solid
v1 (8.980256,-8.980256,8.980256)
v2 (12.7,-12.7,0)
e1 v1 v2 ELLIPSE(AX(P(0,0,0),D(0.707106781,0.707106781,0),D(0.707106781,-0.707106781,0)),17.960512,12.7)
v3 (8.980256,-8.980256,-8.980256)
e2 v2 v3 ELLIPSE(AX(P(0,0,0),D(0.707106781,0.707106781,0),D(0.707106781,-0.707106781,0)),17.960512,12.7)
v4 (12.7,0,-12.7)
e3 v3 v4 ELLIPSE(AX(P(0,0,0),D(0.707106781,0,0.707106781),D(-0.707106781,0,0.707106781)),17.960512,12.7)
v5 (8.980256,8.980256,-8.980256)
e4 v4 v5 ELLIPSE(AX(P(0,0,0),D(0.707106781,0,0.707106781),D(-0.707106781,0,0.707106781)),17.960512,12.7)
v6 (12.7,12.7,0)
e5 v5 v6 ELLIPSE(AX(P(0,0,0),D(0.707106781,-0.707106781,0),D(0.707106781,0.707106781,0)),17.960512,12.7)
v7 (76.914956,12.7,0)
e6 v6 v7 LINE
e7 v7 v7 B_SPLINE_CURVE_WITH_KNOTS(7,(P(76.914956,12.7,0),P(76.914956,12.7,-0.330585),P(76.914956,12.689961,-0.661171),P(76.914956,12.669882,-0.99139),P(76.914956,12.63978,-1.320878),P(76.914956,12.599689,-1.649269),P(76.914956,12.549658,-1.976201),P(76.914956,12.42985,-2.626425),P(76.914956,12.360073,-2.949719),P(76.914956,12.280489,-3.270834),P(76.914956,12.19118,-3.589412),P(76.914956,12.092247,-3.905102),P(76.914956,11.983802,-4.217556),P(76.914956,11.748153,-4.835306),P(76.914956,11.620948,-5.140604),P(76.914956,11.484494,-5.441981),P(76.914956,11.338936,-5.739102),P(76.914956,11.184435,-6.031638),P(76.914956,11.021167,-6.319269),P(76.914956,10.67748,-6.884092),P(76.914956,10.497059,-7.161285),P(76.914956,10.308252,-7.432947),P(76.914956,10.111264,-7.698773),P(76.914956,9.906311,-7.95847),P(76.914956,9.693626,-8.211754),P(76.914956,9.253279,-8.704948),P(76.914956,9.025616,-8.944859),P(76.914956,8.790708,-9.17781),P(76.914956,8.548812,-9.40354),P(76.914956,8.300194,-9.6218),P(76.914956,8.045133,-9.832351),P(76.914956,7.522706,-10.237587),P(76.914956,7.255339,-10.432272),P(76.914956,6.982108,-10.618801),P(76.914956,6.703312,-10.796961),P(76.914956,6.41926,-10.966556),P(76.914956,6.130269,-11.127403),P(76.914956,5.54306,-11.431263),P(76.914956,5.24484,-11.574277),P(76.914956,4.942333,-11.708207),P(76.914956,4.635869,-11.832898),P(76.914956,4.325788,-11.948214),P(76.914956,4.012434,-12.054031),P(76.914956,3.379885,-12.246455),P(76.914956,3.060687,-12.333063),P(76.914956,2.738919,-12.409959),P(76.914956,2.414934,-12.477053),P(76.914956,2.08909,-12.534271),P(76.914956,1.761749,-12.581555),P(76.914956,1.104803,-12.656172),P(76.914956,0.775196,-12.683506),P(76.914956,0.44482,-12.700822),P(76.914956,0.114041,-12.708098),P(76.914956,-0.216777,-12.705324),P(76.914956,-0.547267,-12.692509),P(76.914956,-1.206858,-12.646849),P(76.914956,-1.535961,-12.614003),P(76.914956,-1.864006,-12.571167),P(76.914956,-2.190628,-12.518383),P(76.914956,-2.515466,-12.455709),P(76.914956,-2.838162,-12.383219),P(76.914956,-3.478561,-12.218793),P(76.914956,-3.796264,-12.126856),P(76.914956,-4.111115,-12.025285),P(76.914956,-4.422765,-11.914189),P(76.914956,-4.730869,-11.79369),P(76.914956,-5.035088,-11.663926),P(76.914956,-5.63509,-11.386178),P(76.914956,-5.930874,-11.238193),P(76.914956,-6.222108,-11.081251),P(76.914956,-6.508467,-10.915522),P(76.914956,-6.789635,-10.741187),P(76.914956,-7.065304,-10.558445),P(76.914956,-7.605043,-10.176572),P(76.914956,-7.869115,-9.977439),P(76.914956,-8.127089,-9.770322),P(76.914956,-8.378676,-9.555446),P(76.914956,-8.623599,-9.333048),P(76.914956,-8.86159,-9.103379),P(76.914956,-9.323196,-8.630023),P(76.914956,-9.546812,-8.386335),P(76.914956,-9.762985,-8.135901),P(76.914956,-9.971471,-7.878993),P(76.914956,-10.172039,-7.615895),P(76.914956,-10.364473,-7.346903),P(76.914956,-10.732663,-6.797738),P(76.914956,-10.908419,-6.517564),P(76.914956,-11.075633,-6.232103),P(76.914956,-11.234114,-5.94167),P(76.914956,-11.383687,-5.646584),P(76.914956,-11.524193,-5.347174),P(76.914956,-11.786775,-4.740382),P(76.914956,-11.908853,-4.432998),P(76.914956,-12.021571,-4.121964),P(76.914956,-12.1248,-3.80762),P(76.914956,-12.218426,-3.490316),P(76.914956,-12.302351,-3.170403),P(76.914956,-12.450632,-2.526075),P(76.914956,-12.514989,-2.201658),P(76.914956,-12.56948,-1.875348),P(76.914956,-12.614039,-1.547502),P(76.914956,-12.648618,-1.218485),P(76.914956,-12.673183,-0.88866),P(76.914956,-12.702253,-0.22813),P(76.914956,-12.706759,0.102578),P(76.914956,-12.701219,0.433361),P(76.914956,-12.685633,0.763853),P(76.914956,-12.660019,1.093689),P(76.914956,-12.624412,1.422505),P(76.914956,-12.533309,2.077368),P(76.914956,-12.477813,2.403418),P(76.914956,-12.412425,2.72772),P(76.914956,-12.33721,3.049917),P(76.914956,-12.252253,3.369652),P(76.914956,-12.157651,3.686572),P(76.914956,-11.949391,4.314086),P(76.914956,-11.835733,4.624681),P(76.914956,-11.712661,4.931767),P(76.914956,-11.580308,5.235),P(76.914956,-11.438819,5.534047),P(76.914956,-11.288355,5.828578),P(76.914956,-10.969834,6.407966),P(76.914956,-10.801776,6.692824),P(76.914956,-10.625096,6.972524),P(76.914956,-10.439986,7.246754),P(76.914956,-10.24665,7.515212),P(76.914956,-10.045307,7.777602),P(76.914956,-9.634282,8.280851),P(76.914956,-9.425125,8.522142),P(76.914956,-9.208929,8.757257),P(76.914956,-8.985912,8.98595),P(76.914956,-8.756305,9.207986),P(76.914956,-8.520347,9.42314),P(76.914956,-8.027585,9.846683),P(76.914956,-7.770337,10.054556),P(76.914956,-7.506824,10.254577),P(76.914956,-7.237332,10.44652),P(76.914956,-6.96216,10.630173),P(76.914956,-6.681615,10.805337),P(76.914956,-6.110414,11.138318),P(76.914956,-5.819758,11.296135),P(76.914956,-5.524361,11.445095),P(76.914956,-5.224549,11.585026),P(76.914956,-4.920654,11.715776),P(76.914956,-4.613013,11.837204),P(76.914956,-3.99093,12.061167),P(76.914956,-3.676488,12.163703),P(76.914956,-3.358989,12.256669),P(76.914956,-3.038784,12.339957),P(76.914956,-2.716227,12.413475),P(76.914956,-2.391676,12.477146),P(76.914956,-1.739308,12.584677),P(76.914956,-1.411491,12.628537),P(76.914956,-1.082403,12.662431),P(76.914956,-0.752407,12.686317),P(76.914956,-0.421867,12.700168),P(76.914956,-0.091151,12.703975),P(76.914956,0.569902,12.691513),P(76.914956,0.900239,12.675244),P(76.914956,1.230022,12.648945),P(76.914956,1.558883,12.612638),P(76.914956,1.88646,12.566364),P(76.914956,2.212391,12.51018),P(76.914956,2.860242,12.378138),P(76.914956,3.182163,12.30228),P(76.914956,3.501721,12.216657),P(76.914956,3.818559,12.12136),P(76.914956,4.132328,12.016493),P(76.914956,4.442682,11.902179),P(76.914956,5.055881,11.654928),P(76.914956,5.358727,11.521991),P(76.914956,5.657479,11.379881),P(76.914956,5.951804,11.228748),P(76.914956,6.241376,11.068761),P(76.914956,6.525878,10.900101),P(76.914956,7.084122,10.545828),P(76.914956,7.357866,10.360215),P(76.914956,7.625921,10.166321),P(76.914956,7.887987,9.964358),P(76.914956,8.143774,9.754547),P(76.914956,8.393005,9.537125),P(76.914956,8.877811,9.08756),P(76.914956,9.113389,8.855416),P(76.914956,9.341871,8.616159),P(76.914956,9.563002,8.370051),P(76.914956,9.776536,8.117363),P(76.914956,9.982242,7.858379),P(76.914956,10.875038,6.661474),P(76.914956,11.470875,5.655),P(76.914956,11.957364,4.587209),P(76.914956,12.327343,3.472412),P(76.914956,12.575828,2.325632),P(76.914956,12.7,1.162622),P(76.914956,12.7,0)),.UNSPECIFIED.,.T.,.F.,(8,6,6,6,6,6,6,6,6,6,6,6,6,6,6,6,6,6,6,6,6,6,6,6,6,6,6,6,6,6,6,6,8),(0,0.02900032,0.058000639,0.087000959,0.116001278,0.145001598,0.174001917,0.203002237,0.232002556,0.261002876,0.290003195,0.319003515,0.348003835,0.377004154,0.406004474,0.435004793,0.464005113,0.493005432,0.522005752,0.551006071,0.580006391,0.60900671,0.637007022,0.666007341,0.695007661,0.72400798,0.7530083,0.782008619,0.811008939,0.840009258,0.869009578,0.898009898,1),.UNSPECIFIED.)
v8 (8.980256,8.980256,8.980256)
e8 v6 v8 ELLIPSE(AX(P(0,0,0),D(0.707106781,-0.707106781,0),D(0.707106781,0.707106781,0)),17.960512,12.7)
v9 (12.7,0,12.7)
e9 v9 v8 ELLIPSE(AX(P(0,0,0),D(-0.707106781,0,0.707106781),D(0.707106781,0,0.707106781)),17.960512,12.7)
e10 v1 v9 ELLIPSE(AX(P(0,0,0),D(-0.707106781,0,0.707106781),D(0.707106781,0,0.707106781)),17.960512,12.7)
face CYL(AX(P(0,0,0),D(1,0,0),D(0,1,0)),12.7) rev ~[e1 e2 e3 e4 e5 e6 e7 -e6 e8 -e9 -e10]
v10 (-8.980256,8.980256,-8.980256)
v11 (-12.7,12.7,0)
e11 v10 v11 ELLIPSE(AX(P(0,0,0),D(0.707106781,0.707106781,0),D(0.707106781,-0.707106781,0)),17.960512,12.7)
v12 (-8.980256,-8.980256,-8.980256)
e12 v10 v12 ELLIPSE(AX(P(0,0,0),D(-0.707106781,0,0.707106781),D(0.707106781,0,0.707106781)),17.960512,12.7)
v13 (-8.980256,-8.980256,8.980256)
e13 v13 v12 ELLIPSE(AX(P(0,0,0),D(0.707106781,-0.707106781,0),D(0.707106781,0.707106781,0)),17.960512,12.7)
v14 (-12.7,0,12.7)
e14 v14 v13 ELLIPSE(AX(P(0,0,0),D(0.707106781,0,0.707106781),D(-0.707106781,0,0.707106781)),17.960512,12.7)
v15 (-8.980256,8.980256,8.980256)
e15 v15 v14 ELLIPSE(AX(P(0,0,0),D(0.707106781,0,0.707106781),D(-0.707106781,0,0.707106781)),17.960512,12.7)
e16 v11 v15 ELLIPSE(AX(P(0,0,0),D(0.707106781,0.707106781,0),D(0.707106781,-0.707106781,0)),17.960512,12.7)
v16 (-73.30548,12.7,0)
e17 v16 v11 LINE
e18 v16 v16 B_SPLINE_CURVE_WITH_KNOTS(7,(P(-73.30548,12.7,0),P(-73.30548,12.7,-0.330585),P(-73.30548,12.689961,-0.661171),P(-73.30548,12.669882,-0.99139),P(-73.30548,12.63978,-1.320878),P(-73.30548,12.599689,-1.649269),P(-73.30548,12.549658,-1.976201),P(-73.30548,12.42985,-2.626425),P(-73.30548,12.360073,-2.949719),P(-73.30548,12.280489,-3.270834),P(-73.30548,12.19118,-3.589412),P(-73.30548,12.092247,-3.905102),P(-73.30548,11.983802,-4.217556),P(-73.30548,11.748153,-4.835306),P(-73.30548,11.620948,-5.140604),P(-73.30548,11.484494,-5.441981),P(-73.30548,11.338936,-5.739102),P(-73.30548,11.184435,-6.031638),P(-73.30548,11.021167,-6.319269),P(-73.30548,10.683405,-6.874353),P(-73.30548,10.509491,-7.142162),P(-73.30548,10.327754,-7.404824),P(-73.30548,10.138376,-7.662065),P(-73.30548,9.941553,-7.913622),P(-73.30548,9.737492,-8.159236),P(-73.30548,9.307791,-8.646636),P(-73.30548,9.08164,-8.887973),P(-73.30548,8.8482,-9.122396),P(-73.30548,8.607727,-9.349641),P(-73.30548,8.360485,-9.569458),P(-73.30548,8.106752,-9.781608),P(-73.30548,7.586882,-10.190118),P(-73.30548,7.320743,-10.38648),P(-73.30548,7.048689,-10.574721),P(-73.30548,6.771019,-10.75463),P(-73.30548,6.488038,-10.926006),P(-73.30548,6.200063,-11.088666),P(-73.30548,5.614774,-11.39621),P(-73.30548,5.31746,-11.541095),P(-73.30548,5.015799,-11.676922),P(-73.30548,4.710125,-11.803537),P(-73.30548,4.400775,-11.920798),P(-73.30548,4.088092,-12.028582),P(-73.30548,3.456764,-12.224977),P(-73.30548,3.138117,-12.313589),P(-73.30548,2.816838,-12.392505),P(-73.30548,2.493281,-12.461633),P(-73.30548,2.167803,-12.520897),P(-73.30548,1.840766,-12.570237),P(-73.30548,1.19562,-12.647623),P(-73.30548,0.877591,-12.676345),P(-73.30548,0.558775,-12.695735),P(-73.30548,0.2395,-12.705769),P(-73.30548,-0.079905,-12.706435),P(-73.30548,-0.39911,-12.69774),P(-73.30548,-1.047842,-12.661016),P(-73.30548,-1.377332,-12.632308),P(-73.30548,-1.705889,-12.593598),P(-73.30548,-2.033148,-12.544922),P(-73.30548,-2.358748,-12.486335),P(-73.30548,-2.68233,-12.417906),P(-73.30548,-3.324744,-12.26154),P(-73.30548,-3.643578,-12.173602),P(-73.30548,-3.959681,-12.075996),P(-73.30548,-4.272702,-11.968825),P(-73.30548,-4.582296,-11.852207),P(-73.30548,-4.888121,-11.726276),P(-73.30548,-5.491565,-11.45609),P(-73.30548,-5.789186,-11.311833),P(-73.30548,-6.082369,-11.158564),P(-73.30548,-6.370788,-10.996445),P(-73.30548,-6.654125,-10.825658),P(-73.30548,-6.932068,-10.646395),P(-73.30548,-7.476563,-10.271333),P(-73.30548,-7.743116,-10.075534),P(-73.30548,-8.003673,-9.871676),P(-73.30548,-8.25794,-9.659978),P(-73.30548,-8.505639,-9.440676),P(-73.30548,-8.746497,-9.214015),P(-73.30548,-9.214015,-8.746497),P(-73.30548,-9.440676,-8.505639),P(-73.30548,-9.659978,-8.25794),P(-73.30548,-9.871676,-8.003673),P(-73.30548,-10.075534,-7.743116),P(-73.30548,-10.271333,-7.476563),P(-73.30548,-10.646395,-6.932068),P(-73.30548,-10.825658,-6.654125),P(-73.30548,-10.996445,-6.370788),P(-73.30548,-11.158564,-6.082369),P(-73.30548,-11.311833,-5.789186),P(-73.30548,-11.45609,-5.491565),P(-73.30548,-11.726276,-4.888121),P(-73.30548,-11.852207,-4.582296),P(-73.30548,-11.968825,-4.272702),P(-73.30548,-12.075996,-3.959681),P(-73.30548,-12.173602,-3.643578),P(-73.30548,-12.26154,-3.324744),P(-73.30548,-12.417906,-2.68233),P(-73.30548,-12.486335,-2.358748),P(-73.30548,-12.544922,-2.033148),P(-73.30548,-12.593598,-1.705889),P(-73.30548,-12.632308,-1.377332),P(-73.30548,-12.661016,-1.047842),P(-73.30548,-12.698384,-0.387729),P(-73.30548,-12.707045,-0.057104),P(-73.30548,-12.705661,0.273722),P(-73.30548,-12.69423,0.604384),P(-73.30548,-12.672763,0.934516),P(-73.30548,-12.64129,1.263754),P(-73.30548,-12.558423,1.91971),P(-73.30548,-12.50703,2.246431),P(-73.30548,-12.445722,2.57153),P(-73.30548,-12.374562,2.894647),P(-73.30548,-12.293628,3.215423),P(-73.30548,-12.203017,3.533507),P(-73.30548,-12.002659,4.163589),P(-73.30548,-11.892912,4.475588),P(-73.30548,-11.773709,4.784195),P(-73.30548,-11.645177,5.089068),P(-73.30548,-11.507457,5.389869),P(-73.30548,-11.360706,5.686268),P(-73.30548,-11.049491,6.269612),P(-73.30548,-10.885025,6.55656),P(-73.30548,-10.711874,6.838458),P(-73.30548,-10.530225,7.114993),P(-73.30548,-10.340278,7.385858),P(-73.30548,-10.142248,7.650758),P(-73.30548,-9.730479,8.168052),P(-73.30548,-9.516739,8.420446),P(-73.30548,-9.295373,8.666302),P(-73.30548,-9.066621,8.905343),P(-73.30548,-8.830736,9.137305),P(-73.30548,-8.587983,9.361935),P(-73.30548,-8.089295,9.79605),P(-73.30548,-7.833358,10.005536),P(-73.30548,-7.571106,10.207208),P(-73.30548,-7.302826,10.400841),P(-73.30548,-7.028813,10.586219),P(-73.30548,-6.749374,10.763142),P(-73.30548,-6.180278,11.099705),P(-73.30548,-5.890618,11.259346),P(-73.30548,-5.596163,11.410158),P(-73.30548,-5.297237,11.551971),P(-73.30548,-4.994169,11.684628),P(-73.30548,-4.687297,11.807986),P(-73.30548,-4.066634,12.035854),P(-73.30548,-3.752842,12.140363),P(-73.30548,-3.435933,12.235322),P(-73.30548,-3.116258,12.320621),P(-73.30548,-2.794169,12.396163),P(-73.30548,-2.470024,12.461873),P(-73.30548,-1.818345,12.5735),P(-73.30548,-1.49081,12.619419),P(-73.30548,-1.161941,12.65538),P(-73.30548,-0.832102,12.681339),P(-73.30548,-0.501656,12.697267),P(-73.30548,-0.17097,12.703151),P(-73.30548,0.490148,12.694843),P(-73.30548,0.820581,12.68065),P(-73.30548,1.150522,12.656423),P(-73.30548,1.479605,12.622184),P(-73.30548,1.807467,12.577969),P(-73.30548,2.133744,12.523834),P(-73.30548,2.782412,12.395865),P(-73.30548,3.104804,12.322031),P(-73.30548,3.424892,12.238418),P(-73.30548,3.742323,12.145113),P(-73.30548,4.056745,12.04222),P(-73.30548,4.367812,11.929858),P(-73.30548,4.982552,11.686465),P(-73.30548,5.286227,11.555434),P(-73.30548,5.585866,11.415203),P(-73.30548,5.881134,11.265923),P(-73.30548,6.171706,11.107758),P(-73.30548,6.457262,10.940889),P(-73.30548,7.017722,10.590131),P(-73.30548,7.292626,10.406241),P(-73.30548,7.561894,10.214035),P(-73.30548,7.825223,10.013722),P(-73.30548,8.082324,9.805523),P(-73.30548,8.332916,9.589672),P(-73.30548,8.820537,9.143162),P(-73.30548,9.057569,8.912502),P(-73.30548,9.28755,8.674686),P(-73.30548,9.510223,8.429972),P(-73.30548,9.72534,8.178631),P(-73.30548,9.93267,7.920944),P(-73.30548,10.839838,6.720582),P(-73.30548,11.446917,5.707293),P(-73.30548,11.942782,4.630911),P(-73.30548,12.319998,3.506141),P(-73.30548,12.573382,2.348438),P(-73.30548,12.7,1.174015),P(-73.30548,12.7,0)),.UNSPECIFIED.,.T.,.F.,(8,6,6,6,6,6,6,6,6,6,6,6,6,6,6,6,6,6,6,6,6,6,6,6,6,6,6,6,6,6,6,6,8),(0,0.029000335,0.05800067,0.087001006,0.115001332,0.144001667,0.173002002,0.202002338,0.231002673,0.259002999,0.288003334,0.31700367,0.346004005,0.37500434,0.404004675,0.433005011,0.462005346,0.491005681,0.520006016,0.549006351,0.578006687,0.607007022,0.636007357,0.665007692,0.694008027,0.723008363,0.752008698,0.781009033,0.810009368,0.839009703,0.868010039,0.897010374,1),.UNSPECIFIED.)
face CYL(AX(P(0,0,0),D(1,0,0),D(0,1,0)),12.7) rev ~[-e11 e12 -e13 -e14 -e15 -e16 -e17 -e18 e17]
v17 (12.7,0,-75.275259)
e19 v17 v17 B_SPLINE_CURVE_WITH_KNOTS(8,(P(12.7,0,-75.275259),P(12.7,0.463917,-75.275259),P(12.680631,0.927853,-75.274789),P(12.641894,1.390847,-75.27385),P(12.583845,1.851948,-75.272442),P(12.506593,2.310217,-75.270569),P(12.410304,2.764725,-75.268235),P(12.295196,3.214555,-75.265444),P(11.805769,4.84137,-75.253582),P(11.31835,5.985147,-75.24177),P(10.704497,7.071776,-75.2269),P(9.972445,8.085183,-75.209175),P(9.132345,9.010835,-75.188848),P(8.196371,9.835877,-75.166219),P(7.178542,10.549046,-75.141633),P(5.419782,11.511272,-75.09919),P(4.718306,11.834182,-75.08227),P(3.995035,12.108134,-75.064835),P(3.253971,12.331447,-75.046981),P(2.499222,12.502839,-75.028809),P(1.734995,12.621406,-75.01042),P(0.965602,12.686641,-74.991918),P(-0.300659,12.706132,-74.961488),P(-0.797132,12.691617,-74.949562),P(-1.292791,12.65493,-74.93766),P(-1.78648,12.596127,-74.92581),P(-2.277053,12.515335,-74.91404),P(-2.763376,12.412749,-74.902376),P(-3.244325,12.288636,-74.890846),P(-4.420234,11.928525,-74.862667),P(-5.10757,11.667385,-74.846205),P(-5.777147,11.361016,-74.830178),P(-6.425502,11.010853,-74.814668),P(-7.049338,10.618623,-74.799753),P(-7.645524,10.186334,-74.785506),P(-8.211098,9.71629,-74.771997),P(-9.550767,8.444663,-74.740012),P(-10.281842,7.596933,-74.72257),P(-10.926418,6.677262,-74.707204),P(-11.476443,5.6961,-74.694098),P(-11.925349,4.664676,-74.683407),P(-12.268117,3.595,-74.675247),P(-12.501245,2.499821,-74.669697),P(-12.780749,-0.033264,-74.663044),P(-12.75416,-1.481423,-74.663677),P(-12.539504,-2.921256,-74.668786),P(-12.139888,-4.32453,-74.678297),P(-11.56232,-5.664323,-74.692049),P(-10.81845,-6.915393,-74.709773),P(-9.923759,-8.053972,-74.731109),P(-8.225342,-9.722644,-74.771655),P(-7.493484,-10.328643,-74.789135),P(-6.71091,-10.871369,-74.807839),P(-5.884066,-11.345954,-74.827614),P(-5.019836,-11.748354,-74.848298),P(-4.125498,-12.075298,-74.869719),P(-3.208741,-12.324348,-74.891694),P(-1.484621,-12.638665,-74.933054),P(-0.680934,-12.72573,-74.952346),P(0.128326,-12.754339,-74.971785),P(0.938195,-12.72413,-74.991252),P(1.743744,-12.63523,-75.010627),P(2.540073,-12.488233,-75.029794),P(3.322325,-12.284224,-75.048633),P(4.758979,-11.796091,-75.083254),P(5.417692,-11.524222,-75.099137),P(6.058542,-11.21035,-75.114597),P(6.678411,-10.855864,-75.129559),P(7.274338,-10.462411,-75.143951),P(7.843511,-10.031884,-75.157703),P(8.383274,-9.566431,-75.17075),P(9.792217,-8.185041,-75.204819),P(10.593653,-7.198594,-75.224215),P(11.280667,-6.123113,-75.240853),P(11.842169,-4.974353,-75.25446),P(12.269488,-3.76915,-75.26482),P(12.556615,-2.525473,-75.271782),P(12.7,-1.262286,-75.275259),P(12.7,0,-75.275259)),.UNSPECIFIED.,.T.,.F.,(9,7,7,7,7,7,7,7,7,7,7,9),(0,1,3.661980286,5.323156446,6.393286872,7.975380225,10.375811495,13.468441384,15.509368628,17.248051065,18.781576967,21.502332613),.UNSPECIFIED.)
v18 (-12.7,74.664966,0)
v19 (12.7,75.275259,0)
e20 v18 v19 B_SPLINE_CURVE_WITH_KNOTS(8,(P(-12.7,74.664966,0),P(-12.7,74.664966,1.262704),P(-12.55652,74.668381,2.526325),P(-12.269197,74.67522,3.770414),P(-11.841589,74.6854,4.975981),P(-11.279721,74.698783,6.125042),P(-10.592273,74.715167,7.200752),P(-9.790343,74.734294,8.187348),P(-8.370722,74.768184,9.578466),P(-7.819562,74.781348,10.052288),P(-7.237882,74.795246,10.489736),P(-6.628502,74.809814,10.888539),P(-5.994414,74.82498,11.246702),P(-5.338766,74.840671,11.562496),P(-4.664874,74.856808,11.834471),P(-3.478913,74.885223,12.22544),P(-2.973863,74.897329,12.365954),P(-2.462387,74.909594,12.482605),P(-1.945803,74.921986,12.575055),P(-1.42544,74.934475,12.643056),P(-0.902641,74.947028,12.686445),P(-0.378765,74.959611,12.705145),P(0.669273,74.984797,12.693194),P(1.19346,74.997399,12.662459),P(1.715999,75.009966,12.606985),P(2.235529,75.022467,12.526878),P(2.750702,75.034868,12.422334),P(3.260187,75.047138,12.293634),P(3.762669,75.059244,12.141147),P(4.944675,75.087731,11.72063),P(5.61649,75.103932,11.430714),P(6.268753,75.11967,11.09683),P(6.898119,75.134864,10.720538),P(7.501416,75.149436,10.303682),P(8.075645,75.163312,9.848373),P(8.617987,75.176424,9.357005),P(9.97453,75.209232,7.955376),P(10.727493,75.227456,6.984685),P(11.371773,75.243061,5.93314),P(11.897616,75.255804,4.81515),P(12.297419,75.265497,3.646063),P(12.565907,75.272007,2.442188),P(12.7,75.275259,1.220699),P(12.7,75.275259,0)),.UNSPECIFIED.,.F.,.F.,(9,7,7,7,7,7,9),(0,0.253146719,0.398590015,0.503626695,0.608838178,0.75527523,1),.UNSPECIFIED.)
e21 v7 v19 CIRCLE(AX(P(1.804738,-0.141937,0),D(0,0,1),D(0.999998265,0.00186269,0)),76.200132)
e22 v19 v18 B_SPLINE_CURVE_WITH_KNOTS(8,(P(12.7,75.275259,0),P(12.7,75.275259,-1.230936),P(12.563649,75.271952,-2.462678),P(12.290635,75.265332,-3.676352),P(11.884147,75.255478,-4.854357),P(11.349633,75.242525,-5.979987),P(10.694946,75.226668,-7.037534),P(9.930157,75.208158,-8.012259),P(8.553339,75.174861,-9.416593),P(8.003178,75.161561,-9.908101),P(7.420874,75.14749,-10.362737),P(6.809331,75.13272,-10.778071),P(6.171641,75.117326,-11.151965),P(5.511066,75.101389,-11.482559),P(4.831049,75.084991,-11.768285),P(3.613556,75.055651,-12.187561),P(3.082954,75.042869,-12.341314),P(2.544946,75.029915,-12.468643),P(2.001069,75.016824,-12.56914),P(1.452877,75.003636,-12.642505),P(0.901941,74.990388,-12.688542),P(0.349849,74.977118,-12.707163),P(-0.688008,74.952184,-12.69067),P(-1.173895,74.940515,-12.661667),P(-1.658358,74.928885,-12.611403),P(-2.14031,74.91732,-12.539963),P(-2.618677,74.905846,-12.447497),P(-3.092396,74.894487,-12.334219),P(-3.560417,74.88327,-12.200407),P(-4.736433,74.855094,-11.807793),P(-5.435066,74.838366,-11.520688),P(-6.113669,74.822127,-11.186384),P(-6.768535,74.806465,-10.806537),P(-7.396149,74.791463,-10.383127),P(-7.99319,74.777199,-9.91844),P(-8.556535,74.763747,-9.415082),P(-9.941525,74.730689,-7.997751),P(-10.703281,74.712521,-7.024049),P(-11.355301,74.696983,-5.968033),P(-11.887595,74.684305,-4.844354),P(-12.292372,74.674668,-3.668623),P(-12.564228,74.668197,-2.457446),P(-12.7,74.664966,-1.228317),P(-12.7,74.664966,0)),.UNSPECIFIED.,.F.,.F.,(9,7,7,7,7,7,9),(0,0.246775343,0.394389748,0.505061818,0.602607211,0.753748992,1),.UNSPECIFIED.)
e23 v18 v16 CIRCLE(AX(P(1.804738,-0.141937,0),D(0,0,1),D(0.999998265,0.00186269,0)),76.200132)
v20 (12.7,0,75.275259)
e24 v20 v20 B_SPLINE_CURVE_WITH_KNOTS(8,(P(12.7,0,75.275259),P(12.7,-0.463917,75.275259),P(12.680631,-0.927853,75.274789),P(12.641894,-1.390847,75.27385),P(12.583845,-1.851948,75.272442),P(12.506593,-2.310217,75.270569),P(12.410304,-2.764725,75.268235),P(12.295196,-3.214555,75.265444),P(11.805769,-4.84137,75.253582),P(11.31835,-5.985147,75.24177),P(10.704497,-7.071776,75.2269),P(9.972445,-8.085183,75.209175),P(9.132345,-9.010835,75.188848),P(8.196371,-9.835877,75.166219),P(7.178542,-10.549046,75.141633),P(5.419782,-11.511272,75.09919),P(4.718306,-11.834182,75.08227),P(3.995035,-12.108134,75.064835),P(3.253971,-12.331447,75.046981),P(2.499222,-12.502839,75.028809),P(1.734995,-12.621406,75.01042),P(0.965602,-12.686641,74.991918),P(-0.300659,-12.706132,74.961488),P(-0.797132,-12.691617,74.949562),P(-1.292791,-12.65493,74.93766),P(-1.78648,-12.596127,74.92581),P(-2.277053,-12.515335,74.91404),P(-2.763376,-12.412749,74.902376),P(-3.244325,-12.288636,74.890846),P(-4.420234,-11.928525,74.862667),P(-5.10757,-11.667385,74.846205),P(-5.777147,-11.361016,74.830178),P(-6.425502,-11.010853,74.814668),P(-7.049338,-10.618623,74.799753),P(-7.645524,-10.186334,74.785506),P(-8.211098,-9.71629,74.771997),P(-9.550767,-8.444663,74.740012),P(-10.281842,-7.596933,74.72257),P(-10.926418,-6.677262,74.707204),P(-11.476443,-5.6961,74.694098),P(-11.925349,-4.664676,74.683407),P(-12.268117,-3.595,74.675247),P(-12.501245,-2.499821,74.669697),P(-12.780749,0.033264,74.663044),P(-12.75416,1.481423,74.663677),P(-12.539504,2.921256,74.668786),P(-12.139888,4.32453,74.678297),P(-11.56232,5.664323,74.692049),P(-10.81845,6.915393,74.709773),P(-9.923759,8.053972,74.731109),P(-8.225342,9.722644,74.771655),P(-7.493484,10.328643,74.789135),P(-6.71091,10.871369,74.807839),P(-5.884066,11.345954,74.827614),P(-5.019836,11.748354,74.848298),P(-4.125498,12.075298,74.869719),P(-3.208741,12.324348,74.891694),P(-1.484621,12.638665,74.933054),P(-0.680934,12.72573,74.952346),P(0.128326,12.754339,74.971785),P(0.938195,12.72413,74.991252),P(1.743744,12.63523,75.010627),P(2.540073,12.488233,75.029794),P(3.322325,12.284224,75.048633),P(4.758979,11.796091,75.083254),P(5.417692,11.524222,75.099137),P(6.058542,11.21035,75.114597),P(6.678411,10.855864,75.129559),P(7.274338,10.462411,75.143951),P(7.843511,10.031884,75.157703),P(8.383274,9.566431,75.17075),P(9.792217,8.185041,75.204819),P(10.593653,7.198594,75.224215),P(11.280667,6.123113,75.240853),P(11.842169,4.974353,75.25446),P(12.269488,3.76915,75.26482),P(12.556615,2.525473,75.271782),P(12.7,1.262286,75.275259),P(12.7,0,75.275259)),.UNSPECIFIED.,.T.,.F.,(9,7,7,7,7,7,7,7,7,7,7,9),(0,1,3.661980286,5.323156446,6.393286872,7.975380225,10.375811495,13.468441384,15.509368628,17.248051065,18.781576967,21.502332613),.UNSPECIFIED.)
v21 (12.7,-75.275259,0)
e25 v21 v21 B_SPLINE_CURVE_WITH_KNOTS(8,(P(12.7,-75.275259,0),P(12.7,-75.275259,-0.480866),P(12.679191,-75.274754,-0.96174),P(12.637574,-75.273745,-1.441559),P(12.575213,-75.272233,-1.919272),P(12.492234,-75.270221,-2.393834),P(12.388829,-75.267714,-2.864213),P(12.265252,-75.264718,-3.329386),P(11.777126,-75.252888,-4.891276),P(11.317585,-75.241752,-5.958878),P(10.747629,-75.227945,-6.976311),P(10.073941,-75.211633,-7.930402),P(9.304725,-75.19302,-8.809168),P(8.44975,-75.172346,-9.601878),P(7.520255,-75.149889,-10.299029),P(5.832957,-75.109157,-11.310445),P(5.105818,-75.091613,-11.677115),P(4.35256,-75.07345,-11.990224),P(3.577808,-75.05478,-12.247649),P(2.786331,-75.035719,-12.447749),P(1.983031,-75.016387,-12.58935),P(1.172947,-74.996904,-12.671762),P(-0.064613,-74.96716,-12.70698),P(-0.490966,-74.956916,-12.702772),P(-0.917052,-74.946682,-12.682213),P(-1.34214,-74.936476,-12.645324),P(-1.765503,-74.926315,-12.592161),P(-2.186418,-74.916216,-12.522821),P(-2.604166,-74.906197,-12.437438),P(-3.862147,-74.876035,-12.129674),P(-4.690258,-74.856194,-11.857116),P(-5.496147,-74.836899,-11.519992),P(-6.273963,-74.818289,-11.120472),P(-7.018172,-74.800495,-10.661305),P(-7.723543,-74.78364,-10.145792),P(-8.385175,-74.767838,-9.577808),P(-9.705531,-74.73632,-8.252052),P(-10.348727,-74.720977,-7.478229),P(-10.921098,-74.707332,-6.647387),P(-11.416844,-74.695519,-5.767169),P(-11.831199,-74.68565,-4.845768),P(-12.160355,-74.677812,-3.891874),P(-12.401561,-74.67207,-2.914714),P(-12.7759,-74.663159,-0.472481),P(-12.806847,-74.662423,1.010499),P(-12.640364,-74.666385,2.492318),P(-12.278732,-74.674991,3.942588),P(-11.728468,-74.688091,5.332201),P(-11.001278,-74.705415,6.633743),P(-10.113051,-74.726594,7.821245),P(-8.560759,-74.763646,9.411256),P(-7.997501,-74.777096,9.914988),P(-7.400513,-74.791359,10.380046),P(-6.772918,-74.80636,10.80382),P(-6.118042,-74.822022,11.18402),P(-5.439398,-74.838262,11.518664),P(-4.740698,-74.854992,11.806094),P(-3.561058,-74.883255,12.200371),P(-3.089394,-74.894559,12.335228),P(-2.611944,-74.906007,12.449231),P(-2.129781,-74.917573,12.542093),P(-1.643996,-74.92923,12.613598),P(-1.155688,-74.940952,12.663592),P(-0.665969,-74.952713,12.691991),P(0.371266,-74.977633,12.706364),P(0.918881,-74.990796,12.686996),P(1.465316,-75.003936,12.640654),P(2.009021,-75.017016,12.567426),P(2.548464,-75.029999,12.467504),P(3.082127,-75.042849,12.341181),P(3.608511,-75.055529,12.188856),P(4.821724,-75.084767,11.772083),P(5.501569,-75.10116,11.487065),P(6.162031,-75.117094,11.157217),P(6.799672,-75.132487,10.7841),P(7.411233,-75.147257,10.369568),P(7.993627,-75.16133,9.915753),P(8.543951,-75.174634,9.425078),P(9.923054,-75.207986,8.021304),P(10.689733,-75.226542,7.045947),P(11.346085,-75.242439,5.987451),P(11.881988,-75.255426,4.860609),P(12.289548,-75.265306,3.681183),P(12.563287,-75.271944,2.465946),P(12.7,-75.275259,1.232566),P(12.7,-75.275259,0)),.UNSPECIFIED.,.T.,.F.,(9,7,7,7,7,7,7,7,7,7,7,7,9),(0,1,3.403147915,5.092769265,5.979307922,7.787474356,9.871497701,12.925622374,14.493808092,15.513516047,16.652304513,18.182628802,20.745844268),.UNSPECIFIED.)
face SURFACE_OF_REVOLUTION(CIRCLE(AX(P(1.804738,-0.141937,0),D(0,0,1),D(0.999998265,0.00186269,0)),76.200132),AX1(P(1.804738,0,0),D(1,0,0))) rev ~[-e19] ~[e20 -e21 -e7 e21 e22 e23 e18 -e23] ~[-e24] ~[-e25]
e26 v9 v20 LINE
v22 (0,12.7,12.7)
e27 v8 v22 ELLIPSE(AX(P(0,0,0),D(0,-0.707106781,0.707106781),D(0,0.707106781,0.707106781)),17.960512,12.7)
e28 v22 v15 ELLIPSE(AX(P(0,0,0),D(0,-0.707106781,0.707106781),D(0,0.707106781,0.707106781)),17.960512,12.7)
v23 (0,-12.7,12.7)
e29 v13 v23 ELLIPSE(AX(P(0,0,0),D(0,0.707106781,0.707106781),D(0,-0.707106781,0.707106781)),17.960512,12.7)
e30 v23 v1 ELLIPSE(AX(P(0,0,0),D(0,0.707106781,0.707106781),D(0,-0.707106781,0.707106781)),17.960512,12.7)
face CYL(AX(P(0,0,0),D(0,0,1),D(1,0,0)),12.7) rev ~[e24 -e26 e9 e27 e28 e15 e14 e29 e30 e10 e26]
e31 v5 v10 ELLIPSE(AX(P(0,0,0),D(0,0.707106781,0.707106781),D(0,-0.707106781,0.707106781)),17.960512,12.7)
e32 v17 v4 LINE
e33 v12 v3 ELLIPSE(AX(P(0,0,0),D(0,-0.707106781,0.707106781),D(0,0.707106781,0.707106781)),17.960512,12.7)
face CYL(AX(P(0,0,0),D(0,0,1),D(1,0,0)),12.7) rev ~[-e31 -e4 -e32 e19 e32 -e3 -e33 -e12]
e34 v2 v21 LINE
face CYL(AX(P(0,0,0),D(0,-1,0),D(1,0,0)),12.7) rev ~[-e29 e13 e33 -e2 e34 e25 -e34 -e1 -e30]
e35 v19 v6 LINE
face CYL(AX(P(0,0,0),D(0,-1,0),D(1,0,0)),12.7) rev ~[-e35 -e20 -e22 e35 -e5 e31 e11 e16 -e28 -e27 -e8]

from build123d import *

# Parameters (mm, degrees)
F2_R     = 12.7
F3_DEPTH = 88.9
F4_R     = 12.7
F5_DEPTH = 88.9
F6_R     = 12.7
F7_DEPTH = 88.9


with BuildPart() as f1:
    # F0 (on Top) → F1 (revolve)
    with BuildSketch(Plane.XY):
        with BuildLine():
            Line((-74.395262, 0), (78.004738, 0))
            ThreePointArc((78.004738, 0), (1.804738, 76.058195), (-74.395262, 0))
        make_face()
    revolve(axis=Axis((1.804738, 0, 0), (1, 0, 0)))

    # F2 (on Top) → F3 (cut, symmetric)
    with BuildSketch(Plane.XY):
        Circle(F2_R)
    extrude(amount=F3_DEPTH, both=True, mode=Mode.SUBTRACT)

    # F4 (on Right) → F5 (cut, symmetric)
    with BuildSketch(Plane.YZ):
        Circle(F4_R)
    extrude(amount=F5_DEPTH, both=True, mode=Mode.SUBTRACT)

    # F6 (on Front) → F7 (cut, symmetric)
    with BuildSketch(Plane.XZ):
        Circle(F6_R)
    extrude(amount=F7_DEPTH, both=True, mode=Mode.SUBTRACT)


solid = f1.part
